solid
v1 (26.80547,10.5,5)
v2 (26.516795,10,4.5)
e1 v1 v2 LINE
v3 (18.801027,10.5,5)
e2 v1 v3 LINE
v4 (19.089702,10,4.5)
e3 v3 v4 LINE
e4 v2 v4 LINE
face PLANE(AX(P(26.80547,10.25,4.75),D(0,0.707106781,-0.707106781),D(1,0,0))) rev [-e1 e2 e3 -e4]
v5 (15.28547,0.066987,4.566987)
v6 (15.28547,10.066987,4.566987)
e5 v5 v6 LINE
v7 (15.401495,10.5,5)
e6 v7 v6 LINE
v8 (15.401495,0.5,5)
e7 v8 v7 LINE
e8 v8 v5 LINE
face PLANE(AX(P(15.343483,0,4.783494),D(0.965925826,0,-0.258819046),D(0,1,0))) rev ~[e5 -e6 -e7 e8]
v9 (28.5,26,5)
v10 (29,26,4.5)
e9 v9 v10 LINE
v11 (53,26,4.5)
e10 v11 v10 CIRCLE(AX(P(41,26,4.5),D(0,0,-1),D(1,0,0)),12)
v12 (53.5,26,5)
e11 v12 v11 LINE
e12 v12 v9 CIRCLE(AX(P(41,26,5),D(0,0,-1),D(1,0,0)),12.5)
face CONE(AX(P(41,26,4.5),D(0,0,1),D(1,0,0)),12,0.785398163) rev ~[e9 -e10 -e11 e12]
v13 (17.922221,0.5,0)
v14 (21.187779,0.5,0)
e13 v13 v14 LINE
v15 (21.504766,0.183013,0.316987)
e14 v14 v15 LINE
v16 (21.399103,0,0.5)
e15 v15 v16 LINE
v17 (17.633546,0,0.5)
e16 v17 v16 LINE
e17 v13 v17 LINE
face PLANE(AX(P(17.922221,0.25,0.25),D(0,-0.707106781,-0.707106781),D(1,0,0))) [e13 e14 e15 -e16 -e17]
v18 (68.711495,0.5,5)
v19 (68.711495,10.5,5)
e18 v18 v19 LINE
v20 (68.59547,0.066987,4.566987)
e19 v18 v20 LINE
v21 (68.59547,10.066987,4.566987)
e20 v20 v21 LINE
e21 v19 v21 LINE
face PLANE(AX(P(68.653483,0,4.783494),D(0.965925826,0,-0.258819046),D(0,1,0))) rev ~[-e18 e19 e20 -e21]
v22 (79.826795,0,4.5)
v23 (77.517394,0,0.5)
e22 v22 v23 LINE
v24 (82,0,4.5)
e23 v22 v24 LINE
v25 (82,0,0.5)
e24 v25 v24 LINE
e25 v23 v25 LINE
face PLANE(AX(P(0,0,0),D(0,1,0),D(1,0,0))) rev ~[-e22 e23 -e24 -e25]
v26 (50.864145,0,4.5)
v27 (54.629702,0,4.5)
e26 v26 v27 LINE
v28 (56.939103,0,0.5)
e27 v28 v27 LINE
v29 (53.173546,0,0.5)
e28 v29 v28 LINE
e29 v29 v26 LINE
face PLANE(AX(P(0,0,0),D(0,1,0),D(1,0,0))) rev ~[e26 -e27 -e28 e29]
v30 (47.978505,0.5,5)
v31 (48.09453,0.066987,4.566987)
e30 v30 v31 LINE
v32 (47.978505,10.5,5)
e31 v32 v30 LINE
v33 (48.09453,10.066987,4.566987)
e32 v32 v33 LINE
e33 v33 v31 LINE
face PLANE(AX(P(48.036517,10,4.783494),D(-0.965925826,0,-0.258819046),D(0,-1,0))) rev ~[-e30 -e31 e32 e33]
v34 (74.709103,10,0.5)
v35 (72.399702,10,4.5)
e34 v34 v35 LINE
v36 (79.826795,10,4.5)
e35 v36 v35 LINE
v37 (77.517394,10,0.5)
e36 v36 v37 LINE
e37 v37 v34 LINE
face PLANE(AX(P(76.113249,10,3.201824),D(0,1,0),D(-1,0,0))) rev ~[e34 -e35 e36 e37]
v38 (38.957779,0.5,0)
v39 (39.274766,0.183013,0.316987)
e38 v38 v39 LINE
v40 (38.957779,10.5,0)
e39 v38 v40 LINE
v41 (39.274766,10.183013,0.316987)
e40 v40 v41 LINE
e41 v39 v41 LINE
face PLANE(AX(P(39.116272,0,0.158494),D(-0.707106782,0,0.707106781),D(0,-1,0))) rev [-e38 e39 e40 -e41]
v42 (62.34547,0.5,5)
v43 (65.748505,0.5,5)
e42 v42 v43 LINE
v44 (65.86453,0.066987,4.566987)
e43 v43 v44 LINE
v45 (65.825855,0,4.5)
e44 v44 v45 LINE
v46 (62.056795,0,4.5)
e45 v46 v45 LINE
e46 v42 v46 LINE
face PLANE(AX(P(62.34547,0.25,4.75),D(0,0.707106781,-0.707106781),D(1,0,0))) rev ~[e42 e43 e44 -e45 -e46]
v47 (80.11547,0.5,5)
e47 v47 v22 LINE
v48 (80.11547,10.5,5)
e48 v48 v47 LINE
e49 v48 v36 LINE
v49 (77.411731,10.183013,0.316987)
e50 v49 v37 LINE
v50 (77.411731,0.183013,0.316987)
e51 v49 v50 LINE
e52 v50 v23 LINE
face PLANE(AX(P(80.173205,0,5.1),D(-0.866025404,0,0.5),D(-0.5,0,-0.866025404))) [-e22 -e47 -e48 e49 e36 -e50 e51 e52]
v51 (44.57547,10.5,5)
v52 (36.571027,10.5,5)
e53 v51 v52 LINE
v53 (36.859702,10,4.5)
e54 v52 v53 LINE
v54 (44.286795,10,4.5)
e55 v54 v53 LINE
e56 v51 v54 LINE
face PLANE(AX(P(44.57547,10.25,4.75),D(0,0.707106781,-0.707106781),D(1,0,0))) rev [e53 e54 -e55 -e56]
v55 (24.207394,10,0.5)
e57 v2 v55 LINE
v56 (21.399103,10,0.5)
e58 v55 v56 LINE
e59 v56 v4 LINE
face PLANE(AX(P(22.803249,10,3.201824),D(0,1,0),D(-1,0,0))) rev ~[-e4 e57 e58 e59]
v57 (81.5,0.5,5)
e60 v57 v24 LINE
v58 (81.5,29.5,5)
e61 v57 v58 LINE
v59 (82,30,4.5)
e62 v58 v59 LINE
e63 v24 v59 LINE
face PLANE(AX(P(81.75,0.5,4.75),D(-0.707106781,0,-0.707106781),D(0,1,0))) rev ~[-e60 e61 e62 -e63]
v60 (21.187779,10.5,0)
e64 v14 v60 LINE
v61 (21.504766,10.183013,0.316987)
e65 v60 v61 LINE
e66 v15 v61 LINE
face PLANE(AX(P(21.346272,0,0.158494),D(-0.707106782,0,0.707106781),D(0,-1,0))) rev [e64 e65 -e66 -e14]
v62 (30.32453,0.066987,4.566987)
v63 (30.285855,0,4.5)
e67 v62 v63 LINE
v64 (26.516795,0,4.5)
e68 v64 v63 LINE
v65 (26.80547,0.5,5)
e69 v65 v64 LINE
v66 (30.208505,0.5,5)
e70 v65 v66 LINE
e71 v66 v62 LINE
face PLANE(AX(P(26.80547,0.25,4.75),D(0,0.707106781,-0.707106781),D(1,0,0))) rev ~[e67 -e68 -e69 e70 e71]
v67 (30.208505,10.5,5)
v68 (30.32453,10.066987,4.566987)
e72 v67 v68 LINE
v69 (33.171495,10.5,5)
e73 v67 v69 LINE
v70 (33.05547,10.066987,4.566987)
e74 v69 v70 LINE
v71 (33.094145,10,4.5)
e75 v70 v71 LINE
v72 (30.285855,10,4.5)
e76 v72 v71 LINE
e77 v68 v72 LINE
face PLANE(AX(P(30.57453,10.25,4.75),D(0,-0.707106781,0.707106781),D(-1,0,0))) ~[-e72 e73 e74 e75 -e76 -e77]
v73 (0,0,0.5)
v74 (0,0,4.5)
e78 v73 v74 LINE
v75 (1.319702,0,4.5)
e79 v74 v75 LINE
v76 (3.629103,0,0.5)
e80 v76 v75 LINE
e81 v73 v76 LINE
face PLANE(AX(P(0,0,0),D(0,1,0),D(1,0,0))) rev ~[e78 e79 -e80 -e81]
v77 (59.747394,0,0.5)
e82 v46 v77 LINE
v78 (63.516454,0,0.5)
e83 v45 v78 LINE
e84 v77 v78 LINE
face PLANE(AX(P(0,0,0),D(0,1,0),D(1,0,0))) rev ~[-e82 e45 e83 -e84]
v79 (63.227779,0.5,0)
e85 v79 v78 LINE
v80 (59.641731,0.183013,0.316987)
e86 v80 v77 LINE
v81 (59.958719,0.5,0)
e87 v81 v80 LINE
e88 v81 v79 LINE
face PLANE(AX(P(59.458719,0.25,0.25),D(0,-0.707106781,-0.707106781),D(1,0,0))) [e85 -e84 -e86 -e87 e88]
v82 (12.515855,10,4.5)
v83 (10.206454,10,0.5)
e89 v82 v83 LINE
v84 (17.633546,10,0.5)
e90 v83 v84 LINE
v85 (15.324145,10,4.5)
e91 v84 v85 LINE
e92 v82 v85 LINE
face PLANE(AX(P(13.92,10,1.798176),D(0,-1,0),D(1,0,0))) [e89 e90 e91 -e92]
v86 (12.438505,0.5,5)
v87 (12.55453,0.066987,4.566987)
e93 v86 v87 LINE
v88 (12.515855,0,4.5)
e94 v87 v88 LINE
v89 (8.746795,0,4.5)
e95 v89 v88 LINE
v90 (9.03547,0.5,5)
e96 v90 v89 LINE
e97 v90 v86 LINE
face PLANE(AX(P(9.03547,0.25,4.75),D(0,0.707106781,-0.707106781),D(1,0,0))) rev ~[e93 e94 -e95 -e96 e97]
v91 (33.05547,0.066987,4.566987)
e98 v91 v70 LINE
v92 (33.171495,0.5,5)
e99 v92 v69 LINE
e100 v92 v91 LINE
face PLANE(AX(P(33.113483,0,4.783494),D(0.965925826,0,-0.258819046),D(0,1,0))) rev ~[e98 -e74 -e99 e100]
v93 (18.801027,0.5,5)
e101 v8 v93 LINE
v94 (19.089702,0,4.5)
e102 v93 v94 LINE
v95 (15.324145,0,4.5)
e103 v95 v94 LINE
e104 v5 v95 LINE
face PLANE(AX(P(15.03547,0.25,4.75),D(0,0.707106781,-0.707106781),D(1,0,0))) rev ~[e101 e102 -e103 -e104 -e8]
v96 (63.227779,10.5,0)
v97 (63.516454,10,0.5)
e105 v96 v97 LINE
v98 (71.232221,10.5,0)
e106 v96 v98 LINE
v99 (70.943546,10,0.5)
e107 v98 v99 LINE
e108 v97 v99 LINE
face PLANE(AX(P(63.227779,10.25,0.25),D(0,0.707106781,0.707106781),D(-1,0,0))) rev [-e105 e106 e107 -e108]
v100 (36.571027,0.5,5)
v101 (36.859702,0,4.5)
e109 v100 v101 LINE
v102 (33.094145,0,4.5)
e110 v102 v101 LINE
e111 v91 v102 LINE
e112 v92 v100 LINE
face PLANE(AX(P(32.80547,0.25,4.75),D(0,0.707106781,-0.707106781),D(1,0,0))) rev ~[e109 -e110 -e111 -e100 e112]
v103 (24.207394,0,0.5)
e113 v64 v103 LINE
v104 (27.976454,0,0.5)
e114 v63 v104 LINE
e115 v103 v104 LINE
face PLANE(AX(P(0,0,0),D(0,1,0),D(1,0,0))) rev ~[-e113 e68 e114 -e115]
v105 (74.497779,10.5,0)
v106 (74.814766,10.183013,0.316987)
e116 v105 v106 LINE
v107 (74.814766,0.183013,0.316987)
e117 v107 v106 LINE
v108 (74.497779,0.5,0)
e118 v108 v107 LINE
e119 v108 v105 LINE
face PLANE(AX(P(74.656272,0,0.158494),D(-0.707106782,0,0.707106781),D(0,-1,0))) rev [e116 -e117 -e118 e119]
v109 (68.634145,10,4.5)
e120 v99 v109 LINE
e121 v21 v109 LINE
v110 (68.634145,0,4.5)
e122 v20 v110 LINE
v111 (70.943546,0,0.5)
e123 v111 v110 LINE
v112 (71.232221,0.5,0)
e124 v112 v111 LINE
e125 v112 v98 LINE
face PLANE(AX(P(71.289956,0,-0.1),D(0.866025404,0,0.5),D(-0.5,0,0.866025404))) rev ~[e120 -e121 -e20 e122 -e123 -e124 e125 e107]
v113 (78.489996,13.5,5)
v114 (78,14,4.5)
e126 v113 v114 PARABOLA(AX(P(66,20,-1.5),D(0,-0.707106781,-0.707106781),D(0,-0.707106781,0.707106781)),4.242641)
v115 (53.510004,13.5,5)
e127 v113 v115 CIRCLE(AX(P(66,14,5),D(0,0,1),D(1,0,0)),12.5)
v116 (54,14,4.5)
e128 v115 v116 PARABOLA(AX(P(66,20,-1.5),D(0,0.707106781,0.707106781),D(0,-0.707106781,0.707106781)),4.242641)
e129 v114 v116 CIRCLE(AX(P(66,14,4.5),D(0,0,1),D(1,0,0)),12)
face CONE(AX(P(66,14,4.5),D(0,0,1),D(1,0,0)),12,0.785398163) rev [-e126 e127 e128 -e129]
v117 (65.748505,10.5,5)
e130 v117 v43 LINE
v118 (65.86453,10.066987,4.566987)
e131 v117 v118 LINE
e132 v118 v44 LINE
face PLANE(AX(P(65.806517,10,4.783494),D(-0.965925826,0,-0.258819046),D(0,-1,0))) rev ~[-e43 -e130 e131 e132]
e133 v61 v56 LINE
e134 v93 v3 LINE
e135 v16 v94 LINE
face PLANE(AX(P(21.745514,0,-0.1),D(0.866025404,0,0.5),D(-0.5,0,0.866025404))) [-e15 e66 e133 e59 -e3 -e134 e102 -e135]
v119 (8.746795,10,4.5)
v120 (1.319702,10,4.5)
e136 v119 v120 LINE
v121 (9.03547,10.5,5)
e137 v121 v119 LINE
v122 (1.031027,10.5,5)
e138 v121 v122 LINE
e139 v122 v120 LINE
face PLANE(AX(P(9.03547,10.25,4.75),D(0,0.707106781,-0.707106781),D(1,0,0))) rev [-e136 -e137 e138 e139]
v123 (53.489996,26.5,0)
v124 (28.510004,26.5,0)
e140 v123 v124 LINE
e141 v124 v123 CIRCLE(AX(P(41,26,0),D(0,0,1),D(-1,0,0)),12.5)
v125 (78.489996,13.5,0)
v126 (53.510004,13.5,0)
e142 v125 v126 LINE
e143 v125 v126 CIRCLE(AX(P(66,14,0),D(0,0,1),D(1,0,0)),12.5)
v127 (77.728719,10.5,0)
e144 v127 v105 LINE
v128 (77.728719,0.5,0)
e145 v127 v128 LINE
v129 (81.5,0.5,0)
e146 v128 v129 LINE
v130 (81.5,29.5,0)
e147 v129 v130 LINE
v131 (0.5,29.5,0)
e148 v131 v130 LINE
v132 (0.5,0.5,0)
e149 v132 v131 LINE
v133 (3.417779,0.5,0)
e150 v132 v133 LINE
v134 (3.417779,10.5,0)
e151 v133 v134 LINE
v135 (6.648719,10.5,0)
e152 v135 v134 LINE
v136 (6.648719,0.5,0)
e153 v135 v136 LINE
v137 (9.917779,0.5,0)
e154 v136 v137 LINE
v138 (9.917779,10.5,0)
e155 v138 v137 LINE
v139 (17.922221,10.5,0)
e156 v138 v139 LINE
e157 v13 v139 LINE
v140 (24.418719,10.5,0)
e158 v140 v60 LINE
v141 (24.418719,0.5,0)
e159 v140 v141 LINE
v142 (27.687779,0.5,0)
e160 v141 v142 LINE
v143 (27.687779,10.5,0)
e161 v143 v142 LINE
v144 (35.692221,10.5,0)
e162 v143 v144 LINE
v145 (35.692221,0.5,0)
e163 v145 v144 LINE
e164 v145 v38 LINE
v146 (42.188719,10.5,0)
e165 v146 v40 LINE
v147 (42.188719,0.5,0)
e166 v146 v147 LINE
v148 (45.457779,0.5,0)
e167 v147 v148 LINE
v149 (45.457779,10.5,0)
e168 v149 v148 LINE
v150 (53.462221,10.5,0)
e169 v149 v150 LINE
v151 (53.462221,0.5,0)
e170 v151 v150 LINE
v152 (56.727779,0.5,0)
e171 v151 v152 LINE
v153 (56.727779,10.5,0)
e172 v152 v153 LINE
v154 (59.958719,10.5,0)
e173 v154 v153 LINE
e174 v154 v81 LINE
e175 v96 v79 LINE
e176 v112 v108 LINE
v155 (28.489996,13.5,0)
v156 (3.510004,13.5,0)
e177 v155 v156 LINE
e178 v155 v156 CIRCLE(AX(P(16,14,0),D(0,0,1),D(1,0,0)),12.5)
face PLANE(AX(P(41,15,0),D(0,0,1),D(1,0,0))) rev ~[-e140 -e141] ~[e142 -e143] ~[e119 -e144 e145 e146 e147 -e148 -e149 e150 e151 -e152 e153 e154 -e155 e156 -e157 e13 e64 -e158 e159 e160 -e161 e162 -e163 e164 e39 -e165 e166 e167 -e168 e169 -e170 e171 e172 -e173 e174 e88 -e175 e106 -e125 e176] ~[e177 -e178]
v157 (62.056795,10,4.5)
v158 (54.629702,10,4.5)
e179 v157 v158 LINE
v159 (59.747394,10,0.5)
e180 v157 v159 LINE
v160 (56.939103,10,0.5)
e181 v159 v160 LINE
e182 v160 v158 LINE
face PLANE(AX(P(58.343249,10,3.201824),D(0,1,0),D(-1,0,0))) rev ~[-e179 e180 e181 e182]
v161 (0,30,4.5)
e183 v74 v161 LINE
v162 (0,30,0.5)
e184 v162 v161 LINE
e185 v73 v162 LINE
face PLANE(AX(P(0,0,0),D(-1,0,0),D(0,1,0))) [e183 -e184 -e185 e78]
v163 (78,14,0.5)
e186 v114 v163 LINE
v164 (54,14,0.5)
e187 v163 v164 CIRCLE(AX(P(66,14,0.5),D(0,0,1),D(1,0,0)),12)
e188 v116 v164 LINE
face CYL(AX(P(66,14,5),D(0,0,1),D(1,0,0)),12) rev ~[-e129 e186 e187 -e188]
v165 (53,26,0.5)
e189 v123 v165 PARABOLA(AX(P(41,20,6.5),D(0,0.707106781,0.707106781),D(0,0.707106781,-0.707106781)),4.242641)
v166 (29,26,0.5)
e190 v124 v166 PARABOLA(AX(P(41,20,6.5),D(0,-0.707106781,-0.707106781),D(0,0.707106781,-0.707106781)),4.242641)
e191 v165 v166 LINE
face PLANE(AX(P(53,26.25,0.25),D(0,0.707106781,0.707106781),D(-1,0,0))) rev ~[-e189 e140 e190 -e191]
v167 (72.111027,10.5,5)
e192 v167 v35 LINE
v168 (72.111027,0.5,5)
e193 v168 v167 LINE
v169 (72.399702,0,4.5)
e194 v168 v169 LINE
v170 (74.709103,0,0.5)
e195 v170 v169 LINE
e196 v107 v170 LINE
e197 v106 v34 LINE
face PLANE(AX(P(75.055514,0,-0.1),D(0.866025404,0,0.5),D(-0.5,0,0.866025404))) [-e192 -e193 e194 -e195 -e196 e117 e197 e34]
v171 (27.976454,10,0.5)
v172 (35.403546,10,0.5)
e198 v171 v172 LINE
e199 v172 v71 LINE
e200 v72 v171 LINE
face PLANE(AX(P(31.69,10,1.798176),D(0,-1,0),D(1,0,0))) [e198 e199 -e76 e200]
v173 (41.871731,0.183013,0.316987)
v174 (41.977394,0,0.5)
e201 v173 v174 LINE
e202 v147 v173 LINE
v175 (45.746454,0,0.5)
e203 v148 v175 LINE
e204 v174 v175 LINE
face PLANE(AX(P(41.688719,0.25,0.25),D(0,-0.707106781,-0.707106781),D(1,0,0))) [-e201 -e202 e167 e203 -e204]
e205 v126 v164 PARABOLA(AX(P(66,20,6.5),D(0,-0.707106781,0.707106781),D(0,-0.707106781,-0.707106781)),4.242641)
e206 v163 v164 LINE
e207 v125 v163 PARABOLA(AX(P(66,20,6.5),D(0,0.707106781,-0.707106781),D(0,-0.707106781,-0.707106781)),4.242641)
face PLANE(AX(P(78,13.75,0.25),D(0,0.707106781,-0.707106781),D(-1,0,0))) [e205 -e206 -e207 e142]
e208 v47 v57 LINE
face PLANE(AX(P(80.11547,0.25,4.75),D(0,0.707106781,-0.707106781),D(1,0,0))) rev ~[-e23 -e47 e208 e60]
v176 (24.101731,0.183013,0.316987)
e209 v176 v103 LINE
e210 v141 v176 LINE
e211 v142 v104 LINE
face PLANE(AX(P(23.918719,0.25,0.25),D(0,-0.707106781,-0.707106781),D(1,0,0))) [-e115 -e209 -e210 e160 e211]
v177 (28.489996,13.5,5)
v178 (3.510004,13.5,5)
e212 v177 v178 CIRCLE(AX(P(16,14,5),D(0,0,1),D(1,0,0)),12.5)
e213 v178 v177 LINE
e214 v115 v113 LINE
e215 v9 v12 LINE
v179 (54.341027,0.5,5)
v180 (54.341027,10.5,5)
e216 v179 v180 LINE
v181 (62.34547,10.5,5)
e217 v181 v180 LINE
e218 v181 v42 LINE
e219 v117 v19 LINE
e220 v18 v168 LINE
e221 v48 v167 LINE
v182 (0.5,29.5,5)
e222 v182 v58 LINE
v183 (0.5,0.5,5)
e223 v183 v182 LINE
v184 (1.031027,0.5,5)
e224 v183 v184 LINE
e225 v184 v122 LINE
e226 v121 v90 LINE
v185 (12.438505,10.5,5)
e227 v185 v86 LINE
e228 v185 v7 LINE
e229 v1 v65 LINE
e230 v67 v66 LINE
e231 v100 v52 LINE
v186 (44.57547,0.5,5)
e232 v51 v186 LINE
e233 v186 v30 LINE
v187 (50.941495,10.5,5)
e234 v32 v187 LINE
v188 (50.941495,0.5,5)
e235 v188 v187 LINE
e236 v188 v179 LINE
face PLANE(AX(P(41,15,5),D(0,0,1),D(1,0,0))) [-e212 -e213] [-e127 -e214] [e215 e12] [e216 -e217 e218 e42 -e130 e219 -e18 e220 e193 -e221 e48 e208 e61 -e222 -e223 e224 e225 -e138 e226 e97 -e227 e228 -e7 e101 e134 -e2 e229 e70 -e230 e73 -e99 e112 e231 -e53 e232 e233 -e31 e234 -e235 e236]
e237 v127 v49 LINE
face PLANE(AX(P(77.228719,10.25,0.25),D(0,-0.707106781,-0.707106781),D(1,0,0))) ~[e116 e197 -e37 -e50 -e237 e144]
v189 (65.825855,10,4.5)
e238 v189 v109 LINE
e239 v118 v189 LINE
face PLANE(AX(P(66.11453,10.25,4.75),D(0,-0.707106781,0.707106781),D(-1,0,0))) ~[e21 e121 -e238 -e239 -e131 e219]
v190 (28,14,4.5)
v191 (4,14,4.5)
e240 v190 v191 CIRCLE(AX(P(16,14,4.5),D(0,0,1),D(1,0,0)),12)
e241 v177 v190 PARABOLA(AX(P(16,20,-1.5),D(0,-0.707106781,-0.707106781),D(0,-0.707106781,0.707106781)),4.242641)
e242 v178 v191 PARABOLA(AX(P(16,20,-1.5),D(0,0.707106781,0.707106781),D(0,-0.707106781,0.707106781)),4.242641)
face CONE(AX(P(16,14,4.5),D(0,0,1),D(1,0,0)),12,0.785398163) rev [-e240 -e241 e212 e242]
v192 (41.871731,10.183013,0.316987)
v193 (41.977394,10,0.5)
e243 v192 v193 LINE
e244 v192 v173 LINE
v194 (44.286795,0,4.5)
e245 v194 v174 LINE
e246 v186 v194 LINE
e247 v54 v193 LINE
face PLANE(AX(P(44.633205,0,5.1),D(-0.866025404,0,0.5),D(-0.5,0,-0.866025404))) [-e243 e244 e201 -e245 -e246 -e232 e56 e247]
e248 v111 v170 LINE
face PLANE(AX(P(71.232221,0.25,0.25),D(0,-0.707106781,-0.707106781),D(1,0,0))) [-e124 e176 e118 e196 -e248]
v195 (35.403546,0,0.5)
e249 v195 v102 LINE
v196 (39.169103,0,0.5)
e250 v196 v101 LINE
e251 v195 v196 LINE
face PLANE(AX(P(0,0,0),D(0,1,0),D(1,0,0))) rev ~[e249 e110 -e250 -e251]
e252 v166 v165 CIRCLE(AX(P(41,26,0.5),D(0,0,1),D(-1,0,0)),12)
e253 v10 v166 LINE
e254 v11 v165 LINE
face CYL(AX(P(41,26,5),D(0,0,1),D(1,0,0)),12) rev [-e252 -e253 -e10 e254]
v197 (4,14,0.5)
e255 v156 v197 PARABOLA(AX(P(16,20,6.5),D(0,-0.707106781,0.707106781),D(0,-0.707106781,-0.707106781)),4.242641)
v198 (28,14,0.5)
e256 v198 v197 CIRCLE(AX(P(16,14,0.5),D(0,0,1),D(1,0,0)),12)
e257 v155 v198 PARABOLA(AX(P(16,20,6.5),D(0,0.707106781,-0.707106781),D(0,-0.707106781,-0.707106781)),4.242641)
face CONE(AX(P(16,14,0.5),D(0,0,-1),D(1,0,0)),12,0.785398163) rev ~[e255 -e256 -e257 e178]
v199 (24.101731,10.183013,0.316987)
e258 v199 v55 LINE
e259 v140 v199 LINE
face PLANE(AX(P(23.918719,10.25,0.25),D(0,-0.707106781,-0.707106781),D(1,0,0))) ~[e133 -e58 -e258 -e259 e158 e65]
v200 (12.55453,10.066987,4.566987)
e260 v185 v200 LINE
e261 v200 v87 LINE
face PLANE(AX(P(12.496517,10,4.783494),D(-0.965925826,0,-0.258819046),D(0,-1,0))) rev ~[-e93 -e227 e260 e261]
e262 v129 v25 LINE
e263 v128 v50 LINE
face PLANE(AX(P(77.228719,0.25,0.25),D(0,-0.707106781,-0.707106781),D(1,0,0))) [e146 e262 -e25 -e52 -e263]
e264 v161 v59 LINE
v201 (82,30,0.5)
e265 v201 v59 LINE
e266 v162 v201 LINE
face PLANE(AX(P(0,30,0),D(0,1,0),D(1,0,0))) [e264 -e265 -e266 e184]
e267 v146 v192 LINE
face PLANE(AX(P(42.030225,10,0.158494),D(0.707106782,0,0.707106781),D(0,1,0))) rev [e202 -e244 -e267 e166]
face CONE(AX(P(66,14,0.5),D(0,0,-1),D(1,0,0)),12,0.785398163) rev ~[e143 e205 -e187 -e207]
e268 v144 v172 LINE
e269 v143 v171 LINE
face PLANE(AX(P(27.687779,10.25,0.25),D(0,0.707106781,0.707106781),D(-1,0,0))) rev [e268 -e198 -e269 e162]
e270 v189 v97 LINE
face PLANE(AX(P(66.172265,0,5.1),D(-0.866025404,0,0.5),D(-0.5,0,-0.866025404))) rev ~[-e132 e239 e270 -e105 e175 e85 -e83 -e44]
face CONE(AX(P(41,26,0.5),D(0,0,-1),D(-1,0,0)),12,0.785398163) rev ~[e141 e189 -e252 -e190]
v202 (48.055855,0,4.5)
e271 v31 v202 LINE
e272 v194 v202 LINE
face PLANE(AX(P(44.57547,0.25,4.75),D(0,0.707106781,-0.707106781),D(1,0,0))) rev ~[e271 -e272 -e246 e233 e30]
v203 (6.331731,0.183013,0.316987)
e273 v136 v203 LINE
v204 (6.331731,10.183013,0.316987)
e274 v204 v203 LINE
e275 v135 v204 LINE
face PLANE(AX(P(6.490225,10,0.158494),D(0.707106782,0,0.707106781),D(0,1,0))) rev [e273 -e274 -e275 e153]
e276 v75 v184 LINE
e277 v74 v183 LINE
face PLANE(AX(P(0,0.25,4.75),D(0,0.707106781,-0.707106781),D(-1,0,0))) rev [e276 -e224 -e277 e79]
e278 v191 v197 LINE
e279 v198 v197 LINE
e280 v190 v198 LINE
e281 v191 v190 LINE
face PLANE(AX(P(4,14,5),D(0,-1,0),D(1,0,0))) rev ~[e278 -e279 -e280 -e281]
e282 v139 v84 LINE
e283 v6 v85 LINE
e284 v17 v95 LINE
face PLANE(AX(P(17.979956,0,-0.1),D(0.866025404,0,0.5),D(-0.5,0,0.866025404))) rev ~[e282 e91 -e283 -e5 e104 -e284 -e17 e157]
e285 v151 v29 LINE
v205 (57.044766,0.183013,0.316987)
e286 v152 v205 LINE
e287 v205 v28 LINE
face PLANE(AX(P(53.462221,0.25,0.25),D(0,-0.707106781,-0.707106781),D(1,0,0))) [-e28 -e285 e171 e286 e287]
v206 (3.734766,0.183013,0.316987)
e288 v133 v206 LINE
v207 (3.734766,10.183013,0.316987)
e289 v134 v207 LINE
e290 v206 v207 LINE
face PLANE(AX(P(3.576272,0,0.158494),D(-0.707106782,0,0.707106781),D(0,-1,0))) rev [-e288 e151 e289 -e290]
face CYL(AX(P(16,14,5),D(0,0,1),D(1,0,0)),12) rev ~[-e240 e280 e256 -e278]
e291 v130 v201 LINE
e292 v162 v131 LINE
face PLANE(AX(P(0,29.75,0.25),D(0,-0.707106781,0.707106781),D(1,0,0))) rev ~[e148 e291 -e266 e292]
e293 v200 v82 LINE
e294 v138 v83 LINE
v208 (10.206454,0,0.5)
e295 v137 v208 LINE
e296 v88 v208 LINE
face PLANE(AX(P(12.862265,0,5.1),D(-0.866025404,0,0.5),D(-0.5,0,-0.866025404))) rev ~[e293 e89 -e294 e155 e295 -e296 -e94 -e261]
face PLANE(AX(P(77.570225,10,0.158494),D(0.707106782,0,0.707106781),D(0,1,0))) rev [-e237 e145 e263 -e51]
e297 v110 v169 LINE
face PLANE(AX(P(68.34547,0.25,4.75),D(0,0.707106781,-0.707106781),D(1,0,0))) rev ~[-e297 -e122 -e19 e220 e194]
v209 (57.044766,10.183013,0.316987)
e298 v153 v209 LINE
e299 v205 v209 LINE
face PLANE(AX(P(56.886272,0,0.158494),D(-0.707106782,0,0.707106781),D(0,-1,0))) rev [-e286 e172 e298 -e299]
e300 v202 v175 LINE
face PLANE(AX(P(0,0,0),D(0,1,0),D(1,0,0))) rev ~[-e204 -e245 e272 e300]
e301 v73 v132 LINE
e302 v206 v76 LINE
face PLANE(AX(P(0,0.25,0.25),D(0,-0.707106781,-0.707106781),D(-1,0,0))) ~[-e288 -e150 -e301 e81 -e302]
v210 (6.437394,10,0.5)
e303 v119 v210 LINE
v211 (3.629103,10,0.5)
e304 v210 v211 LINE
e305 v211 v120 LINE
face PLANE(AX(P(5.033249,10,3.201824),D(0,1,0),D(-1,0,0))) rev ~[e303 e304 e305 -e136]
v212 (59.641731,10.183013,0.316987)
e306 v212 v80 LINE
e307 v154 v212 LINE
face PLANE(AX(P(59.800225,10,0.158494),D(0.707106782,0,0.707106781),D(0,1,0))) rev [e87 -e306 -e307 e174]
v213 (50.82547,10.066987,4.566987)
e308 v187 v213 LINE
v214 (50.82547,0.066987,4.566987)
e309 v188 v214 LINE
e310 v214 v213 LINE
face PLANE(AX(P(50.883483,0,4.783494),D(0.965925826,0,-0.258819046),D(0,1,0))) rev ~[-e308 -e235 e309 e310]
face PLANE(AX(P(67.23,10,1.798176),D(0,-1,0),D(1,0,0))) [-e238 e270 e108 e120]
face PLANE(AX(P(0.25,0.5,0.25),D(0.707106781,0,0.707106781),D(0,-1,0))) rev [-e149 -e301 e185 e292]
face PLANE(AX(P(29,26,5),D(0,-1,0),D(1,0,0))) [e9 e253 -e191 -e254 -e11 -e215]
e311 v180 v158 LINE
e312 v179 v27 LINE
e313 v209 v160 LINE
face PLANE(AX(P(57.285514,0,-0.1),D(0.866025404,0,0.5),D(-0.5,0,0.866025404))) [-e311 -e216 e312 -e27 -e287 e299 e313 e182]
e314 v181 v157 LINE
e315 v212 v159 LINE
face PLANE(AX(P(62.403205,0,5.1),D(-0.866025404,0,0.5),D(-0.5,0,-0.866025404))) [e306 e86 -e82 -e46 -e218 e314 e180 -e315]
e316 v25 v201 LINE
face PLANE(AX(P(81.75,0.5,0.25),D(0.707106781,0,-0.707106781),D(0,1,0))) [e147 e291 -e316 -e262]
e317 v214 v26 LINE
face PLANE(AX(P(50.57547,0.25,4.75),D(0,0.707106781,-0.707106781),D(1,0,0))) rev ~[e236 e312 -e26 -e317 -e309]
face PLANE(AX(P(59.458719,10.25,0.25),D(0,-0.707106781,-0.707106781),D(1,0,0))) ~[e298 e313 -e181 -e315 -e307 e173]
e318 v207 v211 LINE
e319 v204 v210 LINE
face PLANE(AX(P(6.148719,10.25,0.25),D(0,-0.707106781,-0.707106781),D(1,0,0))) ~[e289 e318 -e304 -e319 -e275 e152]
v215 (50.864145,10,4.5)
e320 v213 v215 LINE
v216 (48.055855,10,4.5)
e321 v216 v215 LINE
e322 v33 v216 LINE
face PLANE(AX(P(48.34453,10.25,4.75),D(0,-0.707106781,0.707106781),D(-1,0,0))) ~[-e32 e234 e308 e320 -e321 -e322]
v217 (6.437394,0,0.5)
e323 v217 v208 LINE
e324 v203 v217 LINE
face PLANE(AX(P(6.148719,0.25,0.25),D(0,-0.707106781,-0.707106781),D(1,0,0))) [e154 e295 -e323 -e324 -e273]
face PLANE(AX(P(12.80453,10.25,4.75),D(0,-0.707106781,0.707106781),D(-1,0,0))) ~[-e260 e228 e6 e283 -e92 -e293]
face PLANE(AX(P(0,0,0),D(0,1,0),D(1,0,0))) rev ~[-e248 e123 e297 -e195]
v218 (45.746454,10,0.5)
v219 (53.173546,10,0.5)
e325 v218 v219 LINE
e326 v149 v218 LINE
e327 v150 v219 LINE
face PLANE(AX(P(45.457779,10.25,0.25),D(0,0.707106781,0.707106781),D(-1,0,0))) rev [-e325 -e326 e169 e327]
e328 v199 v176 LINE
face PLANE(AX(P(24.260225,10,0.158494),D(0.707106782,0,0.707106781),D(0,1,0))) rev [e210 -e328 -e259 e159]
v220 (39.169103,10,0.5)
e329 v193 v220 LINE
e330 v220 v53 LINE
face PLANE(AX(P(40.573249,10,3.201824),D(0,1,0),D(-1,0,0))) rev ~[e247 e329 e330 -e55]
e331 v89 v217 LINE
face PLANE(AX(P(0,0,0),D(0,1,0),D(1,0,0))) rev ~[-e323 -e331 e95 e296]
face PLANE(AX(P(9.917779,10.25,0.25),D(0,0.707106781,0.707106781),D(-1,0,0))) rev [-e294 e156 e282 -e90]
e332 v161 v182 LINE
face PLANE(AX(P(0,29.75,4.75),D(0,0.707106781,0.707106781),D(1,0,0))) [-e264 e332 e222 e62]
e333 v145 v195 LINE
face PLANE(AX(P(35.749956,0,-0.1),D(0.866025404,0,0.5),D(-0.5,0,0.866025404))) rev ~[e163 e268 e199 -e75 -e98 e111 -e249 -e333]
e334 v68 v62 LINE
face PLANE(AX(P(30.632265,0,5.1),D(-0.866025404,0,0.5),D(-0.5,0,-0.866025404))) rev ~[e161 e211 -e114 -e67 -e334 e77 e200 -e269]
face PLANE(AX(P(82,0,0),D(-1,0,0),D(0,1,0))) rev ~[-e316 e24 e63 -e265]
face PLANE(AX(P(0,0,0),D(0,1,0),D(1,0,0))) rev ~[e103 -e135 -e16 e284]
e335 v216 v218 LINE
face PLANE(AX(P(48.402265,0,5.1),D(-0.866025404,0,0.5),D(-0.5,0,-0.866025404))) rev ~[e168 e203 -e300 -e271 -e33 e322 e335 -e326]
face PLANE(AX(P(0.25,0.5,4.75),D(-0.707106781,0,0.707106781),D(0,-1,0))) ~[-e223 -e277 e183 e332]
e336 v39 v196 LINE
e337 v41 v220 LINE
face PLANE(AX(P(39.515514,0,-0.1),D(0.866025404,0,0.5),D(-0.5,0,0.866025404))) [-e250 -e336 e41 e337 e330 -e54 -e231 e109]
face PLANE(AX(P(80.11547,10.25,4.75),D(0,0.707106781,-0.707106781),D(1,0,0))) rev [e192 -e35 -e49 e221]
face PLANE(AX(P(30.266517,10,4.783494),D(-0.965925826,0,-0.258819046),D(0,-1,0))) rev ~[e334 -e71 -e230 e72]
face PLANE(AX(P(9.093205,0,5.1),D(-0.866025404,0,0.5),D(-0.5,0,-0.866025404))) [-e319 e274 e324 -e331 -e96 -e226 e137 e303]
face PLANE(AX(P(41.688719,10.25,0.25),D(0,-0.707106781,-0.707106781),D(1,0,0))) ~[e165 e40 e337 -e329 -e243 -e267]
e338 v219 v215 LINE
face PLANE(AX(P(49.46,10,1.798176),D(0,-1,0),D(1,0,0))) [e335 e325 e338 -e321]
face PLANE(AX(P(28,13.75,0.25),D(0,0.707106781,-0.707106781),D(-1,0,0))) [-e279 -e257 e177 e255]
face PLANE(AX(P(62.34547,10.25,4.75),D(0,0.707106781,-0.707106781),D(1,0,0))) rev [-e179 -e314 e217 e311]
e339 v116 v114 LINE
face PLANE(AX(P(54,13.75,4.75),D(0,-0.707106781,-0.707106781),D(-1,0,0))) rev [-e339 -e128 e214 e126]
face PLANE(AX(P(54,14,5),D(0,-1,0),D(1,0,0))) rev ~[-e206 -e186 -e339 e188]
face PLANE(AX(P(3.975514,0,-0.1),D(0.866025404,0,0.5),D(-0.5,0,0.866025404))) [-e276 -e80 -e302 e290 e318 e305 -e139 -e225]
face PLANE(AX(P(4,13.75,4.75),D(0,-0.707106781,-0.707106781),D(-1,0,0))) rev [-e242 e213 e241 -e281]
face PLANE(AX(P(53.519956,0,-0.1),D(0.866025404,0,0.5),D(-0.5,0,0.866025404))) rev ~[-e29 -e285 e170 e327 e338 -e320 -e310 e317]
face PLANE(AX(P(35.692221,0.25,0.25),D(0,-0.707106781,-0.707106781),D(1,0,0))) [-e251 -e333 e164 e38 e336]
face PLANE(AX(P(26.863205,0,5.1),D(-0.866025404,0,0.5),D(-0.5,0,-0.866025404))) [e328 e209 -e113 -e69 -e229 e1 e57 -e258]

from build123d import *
from OCP.BRepFilletAPI import BRepFilletAPI_MakeChamfer

# Parameters (mm, degrees)
SKETCH1_W           = 82
SKETCH1_H           = 30
BOSS_EXTRUDE1_DEPTH = 5
CUT_EXTRUDE1_DEPTH  = 10
CHAMFER1_SIZE       = 0.5
CHAMFER1_SIZE2      = 0.366025404
CUT_EXTRUDE3_REACH  = 89.459
CHAMFER3_SIZE       = 0.5


with BuildPart() as part:
    # Sketch1 → Boss-Extrude1 (new body)
    with BuildSketch(Plane.XY):
        with Locations((41, 15)):
            Rectangle(SKETCH1_W, SKETCH1_H)
    extrude(amount=BOSS_EXTRUDE1_DEPTH)

    # Sketch2 → Cut-Extrude1 (cut)
    with BuildSketch(Plane.XZ):
        Polygon((0.973292227, 5.1), (9.093205081, 5.1), (6.090983681, -0.1), (3.975513627, -0.1), align=None)
        Polygon((9.860043573, -0.1), (17.979956427, -0.1), (14.977735027, 5.1), (12.862264973, 5.1), align=None)
        Polygon((18.743292227, 5.1), (26.863205081, 5.1), (23.860983681, -0.1), (21.745513627, -0.1), align=None)
        Polygon((27.630043573, -0.1), (35.749956427, -0.1), (32.747735027, 5.1), (30.632264973, 5.1), align=None)
        Polygon((36.513292227, 5.1), (44.633205081, 5.1), (41.630983681, -0.1), (39.515513627, -0.1), align=None)
        Polygon((45.400043573, -0.1), (53.519956427, -0.1), (50.517735027, 5.1), (48.402264973, 5.1), align=None)
        Polygon((54.283292227, 5.1), (62.403205081, 5.1), (59.400983681, -0.1), (57.285513627, -0.1), align=None)
        Polygon((63.170043573, -0.1), (71.289956427, -0.1), (68.287735027, 5.1), (66.172264973, 5.1), align=None)
        Polygon((72.053292227, 5.1), (80.173205081, 5.1), (77.170983681, -0.1), (75.055513627, -0.1), align=None)
    extrude(amount=-CUT_EXTRUDE1_DEPTH, mode=Mode.SUBTRACT)

    # Chamfer1: one chamfer whose edges measure the first distance from different faces: ONE call of the kernel's chamfer builder (chamfer() names one face for all edges)
    chamfer1_edges_1 = [part.edges().sort_by_distance(p)[0] for p in [
        (31.69, 10, 5),
        (40.573248654, 10, 5),
        (49.46, 10, 5),
        (58.343248654, 10, 5),
        (8.033248654, 0, 0),
        (67.23, 10, 5),
        (19.805, 0, 0),
        (25.803248654, 0, 0),
        (37.575, 0, 0),
        (76.113248654, 10, 5),
        (43.573248654, 0, 0),
        (55.345, 0, 0),
        (61.343248654, 0, 0),
        (73.115, 0, 0),
        (79.614359354, 0, 0),
        (76.113248654, 10, 0),
        (67.23, 10, 0),
        (58.343248654, 10, 0),
        (49.46, 10, 0),
        (40.573248654, 10, 0),
        (31.69, 10, 0),
        (22.803248654, 10, 0),
        (13.92, 10, 0),
        (5.033248654, 10, 0),
        (10.92, 0, 5),
        (16.918248654, 0, 5),
        (28.69, 0, 5),
        (34.688248654, 0, 5),
        (46.46, 0, 5),
        (52.458248654, 0, 5),
        (64.23, 0, 5),
        (70.228248654, 0, 5),
        (81.057735027, 0, 5),
        (1.9588893, 0, 0),
        (5.033248654, 10, 5),
        (13.92, 10, 5),
        (0.515513627, 0, 5),
        (22.803248654, 10, 5),
    ]]
    chamfer1_edges_2 = [part.edges().sort_by_distance(p)[0] for p in [
        (48.344529946, 5, 5),
    ]]
    chamfer1_side_2 = [part.faces().sort_by_distance(p)[0] for p in [
        (46.901154273, 5, 2.5),
    ]]
    chamfer1_edges_3 = [part.edges().sort_by_distance(p)[0] for p in [
        (50.575470054, 5, 5),
    ]]
    chamfer1_side_3 = [part.faces().sort_by_distance(p)[0] for p in [
        (52.018845727, 5, 2.5),
    ]]
    chamfer1_edges_4 = [part.edges().sort_by_distance(p)[0] for p in [
        (66.114529946, 5, 5),
    ]]
    chamfer1_side_4 = [part.faces().sort_by_distance(p)[0] for p in [
        (64.671154273, 5, 2.5),
    ]]
    chamfer1_edges_5 = [part.edges().sort_by_distance(p)[0] for p in [
        (68.345470054, 5, 5),
    ]]
    chamfer1_side_5 = [part.faces().sort_by_distance(p)[0] for p in [
        (69.788845727, 5, 2.5),
    ]]
    chamfer1_edges_6 = [part.edges().sort_by_distance(p)[0] for p in [
        (77.228718708, 5, 0),
        (74.9977786, 5, 0),
        (59.458718708, 5, 0),
        (57.2277786, 5, 0),
        (41.688718708, 5, 0),
        (39.4577786, 5, 0),
        (23.918718708, 5, 0),
        (21.6877786, 5, 0),
        (6.148718708, 5, 0),
        (3.9177786, 5, 0),
    ]]
    chamfer1_side_6 = [part.faces().sort_by_distance(p)[0] for p in [
        (41.090558892, 17.128531177, 0),
    ]]
    chamfer1_edges_7 = [part.edges().sort_by_distance(p)[0] for p in [
        (12.804529946, 5, 5),
    ]]
    chamfer1_side_7 = [part.faces().sort_by_distance(p)[0] for p in [
        (11.361154273, 5, 2.5),
    ]]
    chamfer1_edges_8 = [part.edges().sort_by_distance(p)[0] for p in [
        (15.035470054, 5, 5),
    ]]
    chamfer1_side_8 = [part.faces().sort_by_distance(p)[0] for p in [
        (16.478845727, 5, 2.5),
    ]]
    chamfer1_edges_9 = [part.edges().sort_by_distance(p)[0] for p in [
        (30.574529946, 5, 5),
    ]]
    chamfer1_side_9 = [part.faces().sort_by_distance(p)[0] for p in [
        (29.131154273, 5, 2.5),
    ]]
    chamfer1_edges_10 = [part.edges().sort_by_distance(p)[0] for p in [
        (32.805470054, 5, 5),
    ]]
    chamfer1_side_10 = [part.faces().sort_by_distance(p)[0] for p in [
        (34.248845727, 5, 2.5),
    ]]
    chamfer1 = BRepFilletAPI_MakeChamfer(part.part.solid().wrapped)
    for e in chamfer1_edges_1:
        chamfer1.Add(CHAMFER1_SIZE, e.wrapped)
    for e in chamfer1_edges_2:
        chamfer1.Add(CHAMFER1_SIZE, CHAMFER1_SIZE2, e.wrapped, chamfer1_side_2[0].wrapped)  # the first distance lies on this face
    for e in chamfer1_edges_3:
        chamfer1.Add(CHAMFER1_SIZE, CHAMFER1_SIZE2, e.wrapped, chamfer1_side_3[0].wrapped)  # the first distance lies on this face
    for e in chamfer1_edges_4:
        chamfer1.Add(CHAMFER1_SIZE, CHAMFER1_SIZE2, e.wrapped, chamfer1_side_4[0].wrapped)  # the first distance lies on this face
    for e in chamfer1_edges_5:
        chamfer1.Add(CHAMFER1_SIZE, CHAMFER1_SIZE2, e.wrapped, chamfer1_side_5[0].wrapped)  # the first distance lies on this face
    for e in chamfer1_edges_6:
        chamfer1.Add(CHAMFER1_SIZE, CHAMFER1_SIZE2, e.wrapped, chamfer1_side_6[0].wrapped)  # the first distance lies on this face
    for e in chamfer1_edges_7:
        chamfer1.Add(CHAMFER1_SIZE, CHAMFER1_SIZE2, e.wrapped, chamfer1_side_7[0].wrapped)  # the first distance lies on this face
    for e in chamfer1_edges_8:
        chamfer1.Add(CHAMFER1_SIZE, CHAMFER1_SIZE2, e.wrapped, chamfer1_side_8[0].wrapped)  # the first distance lies on this face
    for e in chamfer1_edges_9:
        chamfer1.Add(CHAMFER1_SIZE, CHAMFER1_SIZE2, e.wrapped, chamfer1_side_9[0].wrapped)  # the first distance lies on this face
    for e in chamfer1_edges_10:
        chamfer1.Add(CHAMFER1_SIZE, CHAMFER1_SIZE2, e.wrapped, chamfer1_side_10[0].wrapped)  # the first distance lies on this face
    add(Compound.cast(chamfer1.Shape()), mode=Mode.REPLACE)

    # Sketch11 → Cut-Extrude3 (cut, up to next)
    with BuildSketch(Plane.XY.offset(5), mode=Mode.PRIVATE) as cut_extrude3_sk1:
        with BuildLine():
            Line((4, 14), (28, 14))
            ThreePointArc((28, 14), (16, 26), (4, 14))
        make_face()
    cut_extrude3_tool1 = extrude(cut_extrude3_sk1.sketch, amount=-CUT_EXTRUDE3_REACH, mode=Mode.PRIVATE) & part.part
    # Sketch11 → Cut-Extrude3 (cut, up to next)
    with BuildSketch(Plane.XY.offset(5), mode=Mode.PRIVATE) as cut_extrude3_sk2:
        with BuildLine():
            Line((29, 26), (53, 26))
            ThreePointArc((53, 26), (41, 14), (29, 26))
        make_face()
    cut_extrude3_tool2 = extrude(cut_extrude3_sk2.sketch, amount=-CUT_EXTRUDE3_REACH, mode=Mode.PRIVATE) & part.part
    # Sketch11 → Cut-Extrude3 (cut, up to next)
    with BuildSketch(Plane.XY.offset(5), mode=Mode.PRIVATE) as cut_extrude3_sk3:
        with BuildLine():
            Line((54, 14), (78, 14))
            ThreePointArc((78, 14), (66, 26), (54, 14))
        make_face()
    cut_extrude3_tool3 = extrude(cut_extrude3_sk3.sketch, amount=-CUT_EXTRUDE3_REACH, mode=Mode.PRIVATE) & part.part
    add(cut_extrude3_tool1.solids().sort_by_distance((16, 19.092958, 5))[0], mode=Mode.SUBTRACT)
    add(cut_extrude3_tool2.solids().sort_by_distance((41, 20.907042, 5))[0], mode=Mode.SUBTRACT)
    add(cut_extrude3_tool3.solids().sort_by_distance((66, 19.092958, 5))[0], mode=Mode.SUBTRACT)

    # Chamfer3
    chamfer3_edges = [part.edges().sort_by_distance(p)[0] for p in [
        (82, 15.25, 0),
        (0, 15.25, 0),
        (41, 30, 0),
        (0, 15.25, 5),
        (41, 30, 5),
        (41, 14, 5),
        (66, 14, 0),
        (66, 26, 0),
        (66, 14, 5),
        (66, 26, 5),
        (41, 14, 0),
        (41, 26, 0),
        (16, 14, 0),
        (16, 26, 0),
        (16, 14, 5),
        (16, 26, 5),
        (82, 15.25, 5),
    ]]
    chamfer(chamfer3_edges, length=CHAMFER3_SIZE)


solid = part.part
